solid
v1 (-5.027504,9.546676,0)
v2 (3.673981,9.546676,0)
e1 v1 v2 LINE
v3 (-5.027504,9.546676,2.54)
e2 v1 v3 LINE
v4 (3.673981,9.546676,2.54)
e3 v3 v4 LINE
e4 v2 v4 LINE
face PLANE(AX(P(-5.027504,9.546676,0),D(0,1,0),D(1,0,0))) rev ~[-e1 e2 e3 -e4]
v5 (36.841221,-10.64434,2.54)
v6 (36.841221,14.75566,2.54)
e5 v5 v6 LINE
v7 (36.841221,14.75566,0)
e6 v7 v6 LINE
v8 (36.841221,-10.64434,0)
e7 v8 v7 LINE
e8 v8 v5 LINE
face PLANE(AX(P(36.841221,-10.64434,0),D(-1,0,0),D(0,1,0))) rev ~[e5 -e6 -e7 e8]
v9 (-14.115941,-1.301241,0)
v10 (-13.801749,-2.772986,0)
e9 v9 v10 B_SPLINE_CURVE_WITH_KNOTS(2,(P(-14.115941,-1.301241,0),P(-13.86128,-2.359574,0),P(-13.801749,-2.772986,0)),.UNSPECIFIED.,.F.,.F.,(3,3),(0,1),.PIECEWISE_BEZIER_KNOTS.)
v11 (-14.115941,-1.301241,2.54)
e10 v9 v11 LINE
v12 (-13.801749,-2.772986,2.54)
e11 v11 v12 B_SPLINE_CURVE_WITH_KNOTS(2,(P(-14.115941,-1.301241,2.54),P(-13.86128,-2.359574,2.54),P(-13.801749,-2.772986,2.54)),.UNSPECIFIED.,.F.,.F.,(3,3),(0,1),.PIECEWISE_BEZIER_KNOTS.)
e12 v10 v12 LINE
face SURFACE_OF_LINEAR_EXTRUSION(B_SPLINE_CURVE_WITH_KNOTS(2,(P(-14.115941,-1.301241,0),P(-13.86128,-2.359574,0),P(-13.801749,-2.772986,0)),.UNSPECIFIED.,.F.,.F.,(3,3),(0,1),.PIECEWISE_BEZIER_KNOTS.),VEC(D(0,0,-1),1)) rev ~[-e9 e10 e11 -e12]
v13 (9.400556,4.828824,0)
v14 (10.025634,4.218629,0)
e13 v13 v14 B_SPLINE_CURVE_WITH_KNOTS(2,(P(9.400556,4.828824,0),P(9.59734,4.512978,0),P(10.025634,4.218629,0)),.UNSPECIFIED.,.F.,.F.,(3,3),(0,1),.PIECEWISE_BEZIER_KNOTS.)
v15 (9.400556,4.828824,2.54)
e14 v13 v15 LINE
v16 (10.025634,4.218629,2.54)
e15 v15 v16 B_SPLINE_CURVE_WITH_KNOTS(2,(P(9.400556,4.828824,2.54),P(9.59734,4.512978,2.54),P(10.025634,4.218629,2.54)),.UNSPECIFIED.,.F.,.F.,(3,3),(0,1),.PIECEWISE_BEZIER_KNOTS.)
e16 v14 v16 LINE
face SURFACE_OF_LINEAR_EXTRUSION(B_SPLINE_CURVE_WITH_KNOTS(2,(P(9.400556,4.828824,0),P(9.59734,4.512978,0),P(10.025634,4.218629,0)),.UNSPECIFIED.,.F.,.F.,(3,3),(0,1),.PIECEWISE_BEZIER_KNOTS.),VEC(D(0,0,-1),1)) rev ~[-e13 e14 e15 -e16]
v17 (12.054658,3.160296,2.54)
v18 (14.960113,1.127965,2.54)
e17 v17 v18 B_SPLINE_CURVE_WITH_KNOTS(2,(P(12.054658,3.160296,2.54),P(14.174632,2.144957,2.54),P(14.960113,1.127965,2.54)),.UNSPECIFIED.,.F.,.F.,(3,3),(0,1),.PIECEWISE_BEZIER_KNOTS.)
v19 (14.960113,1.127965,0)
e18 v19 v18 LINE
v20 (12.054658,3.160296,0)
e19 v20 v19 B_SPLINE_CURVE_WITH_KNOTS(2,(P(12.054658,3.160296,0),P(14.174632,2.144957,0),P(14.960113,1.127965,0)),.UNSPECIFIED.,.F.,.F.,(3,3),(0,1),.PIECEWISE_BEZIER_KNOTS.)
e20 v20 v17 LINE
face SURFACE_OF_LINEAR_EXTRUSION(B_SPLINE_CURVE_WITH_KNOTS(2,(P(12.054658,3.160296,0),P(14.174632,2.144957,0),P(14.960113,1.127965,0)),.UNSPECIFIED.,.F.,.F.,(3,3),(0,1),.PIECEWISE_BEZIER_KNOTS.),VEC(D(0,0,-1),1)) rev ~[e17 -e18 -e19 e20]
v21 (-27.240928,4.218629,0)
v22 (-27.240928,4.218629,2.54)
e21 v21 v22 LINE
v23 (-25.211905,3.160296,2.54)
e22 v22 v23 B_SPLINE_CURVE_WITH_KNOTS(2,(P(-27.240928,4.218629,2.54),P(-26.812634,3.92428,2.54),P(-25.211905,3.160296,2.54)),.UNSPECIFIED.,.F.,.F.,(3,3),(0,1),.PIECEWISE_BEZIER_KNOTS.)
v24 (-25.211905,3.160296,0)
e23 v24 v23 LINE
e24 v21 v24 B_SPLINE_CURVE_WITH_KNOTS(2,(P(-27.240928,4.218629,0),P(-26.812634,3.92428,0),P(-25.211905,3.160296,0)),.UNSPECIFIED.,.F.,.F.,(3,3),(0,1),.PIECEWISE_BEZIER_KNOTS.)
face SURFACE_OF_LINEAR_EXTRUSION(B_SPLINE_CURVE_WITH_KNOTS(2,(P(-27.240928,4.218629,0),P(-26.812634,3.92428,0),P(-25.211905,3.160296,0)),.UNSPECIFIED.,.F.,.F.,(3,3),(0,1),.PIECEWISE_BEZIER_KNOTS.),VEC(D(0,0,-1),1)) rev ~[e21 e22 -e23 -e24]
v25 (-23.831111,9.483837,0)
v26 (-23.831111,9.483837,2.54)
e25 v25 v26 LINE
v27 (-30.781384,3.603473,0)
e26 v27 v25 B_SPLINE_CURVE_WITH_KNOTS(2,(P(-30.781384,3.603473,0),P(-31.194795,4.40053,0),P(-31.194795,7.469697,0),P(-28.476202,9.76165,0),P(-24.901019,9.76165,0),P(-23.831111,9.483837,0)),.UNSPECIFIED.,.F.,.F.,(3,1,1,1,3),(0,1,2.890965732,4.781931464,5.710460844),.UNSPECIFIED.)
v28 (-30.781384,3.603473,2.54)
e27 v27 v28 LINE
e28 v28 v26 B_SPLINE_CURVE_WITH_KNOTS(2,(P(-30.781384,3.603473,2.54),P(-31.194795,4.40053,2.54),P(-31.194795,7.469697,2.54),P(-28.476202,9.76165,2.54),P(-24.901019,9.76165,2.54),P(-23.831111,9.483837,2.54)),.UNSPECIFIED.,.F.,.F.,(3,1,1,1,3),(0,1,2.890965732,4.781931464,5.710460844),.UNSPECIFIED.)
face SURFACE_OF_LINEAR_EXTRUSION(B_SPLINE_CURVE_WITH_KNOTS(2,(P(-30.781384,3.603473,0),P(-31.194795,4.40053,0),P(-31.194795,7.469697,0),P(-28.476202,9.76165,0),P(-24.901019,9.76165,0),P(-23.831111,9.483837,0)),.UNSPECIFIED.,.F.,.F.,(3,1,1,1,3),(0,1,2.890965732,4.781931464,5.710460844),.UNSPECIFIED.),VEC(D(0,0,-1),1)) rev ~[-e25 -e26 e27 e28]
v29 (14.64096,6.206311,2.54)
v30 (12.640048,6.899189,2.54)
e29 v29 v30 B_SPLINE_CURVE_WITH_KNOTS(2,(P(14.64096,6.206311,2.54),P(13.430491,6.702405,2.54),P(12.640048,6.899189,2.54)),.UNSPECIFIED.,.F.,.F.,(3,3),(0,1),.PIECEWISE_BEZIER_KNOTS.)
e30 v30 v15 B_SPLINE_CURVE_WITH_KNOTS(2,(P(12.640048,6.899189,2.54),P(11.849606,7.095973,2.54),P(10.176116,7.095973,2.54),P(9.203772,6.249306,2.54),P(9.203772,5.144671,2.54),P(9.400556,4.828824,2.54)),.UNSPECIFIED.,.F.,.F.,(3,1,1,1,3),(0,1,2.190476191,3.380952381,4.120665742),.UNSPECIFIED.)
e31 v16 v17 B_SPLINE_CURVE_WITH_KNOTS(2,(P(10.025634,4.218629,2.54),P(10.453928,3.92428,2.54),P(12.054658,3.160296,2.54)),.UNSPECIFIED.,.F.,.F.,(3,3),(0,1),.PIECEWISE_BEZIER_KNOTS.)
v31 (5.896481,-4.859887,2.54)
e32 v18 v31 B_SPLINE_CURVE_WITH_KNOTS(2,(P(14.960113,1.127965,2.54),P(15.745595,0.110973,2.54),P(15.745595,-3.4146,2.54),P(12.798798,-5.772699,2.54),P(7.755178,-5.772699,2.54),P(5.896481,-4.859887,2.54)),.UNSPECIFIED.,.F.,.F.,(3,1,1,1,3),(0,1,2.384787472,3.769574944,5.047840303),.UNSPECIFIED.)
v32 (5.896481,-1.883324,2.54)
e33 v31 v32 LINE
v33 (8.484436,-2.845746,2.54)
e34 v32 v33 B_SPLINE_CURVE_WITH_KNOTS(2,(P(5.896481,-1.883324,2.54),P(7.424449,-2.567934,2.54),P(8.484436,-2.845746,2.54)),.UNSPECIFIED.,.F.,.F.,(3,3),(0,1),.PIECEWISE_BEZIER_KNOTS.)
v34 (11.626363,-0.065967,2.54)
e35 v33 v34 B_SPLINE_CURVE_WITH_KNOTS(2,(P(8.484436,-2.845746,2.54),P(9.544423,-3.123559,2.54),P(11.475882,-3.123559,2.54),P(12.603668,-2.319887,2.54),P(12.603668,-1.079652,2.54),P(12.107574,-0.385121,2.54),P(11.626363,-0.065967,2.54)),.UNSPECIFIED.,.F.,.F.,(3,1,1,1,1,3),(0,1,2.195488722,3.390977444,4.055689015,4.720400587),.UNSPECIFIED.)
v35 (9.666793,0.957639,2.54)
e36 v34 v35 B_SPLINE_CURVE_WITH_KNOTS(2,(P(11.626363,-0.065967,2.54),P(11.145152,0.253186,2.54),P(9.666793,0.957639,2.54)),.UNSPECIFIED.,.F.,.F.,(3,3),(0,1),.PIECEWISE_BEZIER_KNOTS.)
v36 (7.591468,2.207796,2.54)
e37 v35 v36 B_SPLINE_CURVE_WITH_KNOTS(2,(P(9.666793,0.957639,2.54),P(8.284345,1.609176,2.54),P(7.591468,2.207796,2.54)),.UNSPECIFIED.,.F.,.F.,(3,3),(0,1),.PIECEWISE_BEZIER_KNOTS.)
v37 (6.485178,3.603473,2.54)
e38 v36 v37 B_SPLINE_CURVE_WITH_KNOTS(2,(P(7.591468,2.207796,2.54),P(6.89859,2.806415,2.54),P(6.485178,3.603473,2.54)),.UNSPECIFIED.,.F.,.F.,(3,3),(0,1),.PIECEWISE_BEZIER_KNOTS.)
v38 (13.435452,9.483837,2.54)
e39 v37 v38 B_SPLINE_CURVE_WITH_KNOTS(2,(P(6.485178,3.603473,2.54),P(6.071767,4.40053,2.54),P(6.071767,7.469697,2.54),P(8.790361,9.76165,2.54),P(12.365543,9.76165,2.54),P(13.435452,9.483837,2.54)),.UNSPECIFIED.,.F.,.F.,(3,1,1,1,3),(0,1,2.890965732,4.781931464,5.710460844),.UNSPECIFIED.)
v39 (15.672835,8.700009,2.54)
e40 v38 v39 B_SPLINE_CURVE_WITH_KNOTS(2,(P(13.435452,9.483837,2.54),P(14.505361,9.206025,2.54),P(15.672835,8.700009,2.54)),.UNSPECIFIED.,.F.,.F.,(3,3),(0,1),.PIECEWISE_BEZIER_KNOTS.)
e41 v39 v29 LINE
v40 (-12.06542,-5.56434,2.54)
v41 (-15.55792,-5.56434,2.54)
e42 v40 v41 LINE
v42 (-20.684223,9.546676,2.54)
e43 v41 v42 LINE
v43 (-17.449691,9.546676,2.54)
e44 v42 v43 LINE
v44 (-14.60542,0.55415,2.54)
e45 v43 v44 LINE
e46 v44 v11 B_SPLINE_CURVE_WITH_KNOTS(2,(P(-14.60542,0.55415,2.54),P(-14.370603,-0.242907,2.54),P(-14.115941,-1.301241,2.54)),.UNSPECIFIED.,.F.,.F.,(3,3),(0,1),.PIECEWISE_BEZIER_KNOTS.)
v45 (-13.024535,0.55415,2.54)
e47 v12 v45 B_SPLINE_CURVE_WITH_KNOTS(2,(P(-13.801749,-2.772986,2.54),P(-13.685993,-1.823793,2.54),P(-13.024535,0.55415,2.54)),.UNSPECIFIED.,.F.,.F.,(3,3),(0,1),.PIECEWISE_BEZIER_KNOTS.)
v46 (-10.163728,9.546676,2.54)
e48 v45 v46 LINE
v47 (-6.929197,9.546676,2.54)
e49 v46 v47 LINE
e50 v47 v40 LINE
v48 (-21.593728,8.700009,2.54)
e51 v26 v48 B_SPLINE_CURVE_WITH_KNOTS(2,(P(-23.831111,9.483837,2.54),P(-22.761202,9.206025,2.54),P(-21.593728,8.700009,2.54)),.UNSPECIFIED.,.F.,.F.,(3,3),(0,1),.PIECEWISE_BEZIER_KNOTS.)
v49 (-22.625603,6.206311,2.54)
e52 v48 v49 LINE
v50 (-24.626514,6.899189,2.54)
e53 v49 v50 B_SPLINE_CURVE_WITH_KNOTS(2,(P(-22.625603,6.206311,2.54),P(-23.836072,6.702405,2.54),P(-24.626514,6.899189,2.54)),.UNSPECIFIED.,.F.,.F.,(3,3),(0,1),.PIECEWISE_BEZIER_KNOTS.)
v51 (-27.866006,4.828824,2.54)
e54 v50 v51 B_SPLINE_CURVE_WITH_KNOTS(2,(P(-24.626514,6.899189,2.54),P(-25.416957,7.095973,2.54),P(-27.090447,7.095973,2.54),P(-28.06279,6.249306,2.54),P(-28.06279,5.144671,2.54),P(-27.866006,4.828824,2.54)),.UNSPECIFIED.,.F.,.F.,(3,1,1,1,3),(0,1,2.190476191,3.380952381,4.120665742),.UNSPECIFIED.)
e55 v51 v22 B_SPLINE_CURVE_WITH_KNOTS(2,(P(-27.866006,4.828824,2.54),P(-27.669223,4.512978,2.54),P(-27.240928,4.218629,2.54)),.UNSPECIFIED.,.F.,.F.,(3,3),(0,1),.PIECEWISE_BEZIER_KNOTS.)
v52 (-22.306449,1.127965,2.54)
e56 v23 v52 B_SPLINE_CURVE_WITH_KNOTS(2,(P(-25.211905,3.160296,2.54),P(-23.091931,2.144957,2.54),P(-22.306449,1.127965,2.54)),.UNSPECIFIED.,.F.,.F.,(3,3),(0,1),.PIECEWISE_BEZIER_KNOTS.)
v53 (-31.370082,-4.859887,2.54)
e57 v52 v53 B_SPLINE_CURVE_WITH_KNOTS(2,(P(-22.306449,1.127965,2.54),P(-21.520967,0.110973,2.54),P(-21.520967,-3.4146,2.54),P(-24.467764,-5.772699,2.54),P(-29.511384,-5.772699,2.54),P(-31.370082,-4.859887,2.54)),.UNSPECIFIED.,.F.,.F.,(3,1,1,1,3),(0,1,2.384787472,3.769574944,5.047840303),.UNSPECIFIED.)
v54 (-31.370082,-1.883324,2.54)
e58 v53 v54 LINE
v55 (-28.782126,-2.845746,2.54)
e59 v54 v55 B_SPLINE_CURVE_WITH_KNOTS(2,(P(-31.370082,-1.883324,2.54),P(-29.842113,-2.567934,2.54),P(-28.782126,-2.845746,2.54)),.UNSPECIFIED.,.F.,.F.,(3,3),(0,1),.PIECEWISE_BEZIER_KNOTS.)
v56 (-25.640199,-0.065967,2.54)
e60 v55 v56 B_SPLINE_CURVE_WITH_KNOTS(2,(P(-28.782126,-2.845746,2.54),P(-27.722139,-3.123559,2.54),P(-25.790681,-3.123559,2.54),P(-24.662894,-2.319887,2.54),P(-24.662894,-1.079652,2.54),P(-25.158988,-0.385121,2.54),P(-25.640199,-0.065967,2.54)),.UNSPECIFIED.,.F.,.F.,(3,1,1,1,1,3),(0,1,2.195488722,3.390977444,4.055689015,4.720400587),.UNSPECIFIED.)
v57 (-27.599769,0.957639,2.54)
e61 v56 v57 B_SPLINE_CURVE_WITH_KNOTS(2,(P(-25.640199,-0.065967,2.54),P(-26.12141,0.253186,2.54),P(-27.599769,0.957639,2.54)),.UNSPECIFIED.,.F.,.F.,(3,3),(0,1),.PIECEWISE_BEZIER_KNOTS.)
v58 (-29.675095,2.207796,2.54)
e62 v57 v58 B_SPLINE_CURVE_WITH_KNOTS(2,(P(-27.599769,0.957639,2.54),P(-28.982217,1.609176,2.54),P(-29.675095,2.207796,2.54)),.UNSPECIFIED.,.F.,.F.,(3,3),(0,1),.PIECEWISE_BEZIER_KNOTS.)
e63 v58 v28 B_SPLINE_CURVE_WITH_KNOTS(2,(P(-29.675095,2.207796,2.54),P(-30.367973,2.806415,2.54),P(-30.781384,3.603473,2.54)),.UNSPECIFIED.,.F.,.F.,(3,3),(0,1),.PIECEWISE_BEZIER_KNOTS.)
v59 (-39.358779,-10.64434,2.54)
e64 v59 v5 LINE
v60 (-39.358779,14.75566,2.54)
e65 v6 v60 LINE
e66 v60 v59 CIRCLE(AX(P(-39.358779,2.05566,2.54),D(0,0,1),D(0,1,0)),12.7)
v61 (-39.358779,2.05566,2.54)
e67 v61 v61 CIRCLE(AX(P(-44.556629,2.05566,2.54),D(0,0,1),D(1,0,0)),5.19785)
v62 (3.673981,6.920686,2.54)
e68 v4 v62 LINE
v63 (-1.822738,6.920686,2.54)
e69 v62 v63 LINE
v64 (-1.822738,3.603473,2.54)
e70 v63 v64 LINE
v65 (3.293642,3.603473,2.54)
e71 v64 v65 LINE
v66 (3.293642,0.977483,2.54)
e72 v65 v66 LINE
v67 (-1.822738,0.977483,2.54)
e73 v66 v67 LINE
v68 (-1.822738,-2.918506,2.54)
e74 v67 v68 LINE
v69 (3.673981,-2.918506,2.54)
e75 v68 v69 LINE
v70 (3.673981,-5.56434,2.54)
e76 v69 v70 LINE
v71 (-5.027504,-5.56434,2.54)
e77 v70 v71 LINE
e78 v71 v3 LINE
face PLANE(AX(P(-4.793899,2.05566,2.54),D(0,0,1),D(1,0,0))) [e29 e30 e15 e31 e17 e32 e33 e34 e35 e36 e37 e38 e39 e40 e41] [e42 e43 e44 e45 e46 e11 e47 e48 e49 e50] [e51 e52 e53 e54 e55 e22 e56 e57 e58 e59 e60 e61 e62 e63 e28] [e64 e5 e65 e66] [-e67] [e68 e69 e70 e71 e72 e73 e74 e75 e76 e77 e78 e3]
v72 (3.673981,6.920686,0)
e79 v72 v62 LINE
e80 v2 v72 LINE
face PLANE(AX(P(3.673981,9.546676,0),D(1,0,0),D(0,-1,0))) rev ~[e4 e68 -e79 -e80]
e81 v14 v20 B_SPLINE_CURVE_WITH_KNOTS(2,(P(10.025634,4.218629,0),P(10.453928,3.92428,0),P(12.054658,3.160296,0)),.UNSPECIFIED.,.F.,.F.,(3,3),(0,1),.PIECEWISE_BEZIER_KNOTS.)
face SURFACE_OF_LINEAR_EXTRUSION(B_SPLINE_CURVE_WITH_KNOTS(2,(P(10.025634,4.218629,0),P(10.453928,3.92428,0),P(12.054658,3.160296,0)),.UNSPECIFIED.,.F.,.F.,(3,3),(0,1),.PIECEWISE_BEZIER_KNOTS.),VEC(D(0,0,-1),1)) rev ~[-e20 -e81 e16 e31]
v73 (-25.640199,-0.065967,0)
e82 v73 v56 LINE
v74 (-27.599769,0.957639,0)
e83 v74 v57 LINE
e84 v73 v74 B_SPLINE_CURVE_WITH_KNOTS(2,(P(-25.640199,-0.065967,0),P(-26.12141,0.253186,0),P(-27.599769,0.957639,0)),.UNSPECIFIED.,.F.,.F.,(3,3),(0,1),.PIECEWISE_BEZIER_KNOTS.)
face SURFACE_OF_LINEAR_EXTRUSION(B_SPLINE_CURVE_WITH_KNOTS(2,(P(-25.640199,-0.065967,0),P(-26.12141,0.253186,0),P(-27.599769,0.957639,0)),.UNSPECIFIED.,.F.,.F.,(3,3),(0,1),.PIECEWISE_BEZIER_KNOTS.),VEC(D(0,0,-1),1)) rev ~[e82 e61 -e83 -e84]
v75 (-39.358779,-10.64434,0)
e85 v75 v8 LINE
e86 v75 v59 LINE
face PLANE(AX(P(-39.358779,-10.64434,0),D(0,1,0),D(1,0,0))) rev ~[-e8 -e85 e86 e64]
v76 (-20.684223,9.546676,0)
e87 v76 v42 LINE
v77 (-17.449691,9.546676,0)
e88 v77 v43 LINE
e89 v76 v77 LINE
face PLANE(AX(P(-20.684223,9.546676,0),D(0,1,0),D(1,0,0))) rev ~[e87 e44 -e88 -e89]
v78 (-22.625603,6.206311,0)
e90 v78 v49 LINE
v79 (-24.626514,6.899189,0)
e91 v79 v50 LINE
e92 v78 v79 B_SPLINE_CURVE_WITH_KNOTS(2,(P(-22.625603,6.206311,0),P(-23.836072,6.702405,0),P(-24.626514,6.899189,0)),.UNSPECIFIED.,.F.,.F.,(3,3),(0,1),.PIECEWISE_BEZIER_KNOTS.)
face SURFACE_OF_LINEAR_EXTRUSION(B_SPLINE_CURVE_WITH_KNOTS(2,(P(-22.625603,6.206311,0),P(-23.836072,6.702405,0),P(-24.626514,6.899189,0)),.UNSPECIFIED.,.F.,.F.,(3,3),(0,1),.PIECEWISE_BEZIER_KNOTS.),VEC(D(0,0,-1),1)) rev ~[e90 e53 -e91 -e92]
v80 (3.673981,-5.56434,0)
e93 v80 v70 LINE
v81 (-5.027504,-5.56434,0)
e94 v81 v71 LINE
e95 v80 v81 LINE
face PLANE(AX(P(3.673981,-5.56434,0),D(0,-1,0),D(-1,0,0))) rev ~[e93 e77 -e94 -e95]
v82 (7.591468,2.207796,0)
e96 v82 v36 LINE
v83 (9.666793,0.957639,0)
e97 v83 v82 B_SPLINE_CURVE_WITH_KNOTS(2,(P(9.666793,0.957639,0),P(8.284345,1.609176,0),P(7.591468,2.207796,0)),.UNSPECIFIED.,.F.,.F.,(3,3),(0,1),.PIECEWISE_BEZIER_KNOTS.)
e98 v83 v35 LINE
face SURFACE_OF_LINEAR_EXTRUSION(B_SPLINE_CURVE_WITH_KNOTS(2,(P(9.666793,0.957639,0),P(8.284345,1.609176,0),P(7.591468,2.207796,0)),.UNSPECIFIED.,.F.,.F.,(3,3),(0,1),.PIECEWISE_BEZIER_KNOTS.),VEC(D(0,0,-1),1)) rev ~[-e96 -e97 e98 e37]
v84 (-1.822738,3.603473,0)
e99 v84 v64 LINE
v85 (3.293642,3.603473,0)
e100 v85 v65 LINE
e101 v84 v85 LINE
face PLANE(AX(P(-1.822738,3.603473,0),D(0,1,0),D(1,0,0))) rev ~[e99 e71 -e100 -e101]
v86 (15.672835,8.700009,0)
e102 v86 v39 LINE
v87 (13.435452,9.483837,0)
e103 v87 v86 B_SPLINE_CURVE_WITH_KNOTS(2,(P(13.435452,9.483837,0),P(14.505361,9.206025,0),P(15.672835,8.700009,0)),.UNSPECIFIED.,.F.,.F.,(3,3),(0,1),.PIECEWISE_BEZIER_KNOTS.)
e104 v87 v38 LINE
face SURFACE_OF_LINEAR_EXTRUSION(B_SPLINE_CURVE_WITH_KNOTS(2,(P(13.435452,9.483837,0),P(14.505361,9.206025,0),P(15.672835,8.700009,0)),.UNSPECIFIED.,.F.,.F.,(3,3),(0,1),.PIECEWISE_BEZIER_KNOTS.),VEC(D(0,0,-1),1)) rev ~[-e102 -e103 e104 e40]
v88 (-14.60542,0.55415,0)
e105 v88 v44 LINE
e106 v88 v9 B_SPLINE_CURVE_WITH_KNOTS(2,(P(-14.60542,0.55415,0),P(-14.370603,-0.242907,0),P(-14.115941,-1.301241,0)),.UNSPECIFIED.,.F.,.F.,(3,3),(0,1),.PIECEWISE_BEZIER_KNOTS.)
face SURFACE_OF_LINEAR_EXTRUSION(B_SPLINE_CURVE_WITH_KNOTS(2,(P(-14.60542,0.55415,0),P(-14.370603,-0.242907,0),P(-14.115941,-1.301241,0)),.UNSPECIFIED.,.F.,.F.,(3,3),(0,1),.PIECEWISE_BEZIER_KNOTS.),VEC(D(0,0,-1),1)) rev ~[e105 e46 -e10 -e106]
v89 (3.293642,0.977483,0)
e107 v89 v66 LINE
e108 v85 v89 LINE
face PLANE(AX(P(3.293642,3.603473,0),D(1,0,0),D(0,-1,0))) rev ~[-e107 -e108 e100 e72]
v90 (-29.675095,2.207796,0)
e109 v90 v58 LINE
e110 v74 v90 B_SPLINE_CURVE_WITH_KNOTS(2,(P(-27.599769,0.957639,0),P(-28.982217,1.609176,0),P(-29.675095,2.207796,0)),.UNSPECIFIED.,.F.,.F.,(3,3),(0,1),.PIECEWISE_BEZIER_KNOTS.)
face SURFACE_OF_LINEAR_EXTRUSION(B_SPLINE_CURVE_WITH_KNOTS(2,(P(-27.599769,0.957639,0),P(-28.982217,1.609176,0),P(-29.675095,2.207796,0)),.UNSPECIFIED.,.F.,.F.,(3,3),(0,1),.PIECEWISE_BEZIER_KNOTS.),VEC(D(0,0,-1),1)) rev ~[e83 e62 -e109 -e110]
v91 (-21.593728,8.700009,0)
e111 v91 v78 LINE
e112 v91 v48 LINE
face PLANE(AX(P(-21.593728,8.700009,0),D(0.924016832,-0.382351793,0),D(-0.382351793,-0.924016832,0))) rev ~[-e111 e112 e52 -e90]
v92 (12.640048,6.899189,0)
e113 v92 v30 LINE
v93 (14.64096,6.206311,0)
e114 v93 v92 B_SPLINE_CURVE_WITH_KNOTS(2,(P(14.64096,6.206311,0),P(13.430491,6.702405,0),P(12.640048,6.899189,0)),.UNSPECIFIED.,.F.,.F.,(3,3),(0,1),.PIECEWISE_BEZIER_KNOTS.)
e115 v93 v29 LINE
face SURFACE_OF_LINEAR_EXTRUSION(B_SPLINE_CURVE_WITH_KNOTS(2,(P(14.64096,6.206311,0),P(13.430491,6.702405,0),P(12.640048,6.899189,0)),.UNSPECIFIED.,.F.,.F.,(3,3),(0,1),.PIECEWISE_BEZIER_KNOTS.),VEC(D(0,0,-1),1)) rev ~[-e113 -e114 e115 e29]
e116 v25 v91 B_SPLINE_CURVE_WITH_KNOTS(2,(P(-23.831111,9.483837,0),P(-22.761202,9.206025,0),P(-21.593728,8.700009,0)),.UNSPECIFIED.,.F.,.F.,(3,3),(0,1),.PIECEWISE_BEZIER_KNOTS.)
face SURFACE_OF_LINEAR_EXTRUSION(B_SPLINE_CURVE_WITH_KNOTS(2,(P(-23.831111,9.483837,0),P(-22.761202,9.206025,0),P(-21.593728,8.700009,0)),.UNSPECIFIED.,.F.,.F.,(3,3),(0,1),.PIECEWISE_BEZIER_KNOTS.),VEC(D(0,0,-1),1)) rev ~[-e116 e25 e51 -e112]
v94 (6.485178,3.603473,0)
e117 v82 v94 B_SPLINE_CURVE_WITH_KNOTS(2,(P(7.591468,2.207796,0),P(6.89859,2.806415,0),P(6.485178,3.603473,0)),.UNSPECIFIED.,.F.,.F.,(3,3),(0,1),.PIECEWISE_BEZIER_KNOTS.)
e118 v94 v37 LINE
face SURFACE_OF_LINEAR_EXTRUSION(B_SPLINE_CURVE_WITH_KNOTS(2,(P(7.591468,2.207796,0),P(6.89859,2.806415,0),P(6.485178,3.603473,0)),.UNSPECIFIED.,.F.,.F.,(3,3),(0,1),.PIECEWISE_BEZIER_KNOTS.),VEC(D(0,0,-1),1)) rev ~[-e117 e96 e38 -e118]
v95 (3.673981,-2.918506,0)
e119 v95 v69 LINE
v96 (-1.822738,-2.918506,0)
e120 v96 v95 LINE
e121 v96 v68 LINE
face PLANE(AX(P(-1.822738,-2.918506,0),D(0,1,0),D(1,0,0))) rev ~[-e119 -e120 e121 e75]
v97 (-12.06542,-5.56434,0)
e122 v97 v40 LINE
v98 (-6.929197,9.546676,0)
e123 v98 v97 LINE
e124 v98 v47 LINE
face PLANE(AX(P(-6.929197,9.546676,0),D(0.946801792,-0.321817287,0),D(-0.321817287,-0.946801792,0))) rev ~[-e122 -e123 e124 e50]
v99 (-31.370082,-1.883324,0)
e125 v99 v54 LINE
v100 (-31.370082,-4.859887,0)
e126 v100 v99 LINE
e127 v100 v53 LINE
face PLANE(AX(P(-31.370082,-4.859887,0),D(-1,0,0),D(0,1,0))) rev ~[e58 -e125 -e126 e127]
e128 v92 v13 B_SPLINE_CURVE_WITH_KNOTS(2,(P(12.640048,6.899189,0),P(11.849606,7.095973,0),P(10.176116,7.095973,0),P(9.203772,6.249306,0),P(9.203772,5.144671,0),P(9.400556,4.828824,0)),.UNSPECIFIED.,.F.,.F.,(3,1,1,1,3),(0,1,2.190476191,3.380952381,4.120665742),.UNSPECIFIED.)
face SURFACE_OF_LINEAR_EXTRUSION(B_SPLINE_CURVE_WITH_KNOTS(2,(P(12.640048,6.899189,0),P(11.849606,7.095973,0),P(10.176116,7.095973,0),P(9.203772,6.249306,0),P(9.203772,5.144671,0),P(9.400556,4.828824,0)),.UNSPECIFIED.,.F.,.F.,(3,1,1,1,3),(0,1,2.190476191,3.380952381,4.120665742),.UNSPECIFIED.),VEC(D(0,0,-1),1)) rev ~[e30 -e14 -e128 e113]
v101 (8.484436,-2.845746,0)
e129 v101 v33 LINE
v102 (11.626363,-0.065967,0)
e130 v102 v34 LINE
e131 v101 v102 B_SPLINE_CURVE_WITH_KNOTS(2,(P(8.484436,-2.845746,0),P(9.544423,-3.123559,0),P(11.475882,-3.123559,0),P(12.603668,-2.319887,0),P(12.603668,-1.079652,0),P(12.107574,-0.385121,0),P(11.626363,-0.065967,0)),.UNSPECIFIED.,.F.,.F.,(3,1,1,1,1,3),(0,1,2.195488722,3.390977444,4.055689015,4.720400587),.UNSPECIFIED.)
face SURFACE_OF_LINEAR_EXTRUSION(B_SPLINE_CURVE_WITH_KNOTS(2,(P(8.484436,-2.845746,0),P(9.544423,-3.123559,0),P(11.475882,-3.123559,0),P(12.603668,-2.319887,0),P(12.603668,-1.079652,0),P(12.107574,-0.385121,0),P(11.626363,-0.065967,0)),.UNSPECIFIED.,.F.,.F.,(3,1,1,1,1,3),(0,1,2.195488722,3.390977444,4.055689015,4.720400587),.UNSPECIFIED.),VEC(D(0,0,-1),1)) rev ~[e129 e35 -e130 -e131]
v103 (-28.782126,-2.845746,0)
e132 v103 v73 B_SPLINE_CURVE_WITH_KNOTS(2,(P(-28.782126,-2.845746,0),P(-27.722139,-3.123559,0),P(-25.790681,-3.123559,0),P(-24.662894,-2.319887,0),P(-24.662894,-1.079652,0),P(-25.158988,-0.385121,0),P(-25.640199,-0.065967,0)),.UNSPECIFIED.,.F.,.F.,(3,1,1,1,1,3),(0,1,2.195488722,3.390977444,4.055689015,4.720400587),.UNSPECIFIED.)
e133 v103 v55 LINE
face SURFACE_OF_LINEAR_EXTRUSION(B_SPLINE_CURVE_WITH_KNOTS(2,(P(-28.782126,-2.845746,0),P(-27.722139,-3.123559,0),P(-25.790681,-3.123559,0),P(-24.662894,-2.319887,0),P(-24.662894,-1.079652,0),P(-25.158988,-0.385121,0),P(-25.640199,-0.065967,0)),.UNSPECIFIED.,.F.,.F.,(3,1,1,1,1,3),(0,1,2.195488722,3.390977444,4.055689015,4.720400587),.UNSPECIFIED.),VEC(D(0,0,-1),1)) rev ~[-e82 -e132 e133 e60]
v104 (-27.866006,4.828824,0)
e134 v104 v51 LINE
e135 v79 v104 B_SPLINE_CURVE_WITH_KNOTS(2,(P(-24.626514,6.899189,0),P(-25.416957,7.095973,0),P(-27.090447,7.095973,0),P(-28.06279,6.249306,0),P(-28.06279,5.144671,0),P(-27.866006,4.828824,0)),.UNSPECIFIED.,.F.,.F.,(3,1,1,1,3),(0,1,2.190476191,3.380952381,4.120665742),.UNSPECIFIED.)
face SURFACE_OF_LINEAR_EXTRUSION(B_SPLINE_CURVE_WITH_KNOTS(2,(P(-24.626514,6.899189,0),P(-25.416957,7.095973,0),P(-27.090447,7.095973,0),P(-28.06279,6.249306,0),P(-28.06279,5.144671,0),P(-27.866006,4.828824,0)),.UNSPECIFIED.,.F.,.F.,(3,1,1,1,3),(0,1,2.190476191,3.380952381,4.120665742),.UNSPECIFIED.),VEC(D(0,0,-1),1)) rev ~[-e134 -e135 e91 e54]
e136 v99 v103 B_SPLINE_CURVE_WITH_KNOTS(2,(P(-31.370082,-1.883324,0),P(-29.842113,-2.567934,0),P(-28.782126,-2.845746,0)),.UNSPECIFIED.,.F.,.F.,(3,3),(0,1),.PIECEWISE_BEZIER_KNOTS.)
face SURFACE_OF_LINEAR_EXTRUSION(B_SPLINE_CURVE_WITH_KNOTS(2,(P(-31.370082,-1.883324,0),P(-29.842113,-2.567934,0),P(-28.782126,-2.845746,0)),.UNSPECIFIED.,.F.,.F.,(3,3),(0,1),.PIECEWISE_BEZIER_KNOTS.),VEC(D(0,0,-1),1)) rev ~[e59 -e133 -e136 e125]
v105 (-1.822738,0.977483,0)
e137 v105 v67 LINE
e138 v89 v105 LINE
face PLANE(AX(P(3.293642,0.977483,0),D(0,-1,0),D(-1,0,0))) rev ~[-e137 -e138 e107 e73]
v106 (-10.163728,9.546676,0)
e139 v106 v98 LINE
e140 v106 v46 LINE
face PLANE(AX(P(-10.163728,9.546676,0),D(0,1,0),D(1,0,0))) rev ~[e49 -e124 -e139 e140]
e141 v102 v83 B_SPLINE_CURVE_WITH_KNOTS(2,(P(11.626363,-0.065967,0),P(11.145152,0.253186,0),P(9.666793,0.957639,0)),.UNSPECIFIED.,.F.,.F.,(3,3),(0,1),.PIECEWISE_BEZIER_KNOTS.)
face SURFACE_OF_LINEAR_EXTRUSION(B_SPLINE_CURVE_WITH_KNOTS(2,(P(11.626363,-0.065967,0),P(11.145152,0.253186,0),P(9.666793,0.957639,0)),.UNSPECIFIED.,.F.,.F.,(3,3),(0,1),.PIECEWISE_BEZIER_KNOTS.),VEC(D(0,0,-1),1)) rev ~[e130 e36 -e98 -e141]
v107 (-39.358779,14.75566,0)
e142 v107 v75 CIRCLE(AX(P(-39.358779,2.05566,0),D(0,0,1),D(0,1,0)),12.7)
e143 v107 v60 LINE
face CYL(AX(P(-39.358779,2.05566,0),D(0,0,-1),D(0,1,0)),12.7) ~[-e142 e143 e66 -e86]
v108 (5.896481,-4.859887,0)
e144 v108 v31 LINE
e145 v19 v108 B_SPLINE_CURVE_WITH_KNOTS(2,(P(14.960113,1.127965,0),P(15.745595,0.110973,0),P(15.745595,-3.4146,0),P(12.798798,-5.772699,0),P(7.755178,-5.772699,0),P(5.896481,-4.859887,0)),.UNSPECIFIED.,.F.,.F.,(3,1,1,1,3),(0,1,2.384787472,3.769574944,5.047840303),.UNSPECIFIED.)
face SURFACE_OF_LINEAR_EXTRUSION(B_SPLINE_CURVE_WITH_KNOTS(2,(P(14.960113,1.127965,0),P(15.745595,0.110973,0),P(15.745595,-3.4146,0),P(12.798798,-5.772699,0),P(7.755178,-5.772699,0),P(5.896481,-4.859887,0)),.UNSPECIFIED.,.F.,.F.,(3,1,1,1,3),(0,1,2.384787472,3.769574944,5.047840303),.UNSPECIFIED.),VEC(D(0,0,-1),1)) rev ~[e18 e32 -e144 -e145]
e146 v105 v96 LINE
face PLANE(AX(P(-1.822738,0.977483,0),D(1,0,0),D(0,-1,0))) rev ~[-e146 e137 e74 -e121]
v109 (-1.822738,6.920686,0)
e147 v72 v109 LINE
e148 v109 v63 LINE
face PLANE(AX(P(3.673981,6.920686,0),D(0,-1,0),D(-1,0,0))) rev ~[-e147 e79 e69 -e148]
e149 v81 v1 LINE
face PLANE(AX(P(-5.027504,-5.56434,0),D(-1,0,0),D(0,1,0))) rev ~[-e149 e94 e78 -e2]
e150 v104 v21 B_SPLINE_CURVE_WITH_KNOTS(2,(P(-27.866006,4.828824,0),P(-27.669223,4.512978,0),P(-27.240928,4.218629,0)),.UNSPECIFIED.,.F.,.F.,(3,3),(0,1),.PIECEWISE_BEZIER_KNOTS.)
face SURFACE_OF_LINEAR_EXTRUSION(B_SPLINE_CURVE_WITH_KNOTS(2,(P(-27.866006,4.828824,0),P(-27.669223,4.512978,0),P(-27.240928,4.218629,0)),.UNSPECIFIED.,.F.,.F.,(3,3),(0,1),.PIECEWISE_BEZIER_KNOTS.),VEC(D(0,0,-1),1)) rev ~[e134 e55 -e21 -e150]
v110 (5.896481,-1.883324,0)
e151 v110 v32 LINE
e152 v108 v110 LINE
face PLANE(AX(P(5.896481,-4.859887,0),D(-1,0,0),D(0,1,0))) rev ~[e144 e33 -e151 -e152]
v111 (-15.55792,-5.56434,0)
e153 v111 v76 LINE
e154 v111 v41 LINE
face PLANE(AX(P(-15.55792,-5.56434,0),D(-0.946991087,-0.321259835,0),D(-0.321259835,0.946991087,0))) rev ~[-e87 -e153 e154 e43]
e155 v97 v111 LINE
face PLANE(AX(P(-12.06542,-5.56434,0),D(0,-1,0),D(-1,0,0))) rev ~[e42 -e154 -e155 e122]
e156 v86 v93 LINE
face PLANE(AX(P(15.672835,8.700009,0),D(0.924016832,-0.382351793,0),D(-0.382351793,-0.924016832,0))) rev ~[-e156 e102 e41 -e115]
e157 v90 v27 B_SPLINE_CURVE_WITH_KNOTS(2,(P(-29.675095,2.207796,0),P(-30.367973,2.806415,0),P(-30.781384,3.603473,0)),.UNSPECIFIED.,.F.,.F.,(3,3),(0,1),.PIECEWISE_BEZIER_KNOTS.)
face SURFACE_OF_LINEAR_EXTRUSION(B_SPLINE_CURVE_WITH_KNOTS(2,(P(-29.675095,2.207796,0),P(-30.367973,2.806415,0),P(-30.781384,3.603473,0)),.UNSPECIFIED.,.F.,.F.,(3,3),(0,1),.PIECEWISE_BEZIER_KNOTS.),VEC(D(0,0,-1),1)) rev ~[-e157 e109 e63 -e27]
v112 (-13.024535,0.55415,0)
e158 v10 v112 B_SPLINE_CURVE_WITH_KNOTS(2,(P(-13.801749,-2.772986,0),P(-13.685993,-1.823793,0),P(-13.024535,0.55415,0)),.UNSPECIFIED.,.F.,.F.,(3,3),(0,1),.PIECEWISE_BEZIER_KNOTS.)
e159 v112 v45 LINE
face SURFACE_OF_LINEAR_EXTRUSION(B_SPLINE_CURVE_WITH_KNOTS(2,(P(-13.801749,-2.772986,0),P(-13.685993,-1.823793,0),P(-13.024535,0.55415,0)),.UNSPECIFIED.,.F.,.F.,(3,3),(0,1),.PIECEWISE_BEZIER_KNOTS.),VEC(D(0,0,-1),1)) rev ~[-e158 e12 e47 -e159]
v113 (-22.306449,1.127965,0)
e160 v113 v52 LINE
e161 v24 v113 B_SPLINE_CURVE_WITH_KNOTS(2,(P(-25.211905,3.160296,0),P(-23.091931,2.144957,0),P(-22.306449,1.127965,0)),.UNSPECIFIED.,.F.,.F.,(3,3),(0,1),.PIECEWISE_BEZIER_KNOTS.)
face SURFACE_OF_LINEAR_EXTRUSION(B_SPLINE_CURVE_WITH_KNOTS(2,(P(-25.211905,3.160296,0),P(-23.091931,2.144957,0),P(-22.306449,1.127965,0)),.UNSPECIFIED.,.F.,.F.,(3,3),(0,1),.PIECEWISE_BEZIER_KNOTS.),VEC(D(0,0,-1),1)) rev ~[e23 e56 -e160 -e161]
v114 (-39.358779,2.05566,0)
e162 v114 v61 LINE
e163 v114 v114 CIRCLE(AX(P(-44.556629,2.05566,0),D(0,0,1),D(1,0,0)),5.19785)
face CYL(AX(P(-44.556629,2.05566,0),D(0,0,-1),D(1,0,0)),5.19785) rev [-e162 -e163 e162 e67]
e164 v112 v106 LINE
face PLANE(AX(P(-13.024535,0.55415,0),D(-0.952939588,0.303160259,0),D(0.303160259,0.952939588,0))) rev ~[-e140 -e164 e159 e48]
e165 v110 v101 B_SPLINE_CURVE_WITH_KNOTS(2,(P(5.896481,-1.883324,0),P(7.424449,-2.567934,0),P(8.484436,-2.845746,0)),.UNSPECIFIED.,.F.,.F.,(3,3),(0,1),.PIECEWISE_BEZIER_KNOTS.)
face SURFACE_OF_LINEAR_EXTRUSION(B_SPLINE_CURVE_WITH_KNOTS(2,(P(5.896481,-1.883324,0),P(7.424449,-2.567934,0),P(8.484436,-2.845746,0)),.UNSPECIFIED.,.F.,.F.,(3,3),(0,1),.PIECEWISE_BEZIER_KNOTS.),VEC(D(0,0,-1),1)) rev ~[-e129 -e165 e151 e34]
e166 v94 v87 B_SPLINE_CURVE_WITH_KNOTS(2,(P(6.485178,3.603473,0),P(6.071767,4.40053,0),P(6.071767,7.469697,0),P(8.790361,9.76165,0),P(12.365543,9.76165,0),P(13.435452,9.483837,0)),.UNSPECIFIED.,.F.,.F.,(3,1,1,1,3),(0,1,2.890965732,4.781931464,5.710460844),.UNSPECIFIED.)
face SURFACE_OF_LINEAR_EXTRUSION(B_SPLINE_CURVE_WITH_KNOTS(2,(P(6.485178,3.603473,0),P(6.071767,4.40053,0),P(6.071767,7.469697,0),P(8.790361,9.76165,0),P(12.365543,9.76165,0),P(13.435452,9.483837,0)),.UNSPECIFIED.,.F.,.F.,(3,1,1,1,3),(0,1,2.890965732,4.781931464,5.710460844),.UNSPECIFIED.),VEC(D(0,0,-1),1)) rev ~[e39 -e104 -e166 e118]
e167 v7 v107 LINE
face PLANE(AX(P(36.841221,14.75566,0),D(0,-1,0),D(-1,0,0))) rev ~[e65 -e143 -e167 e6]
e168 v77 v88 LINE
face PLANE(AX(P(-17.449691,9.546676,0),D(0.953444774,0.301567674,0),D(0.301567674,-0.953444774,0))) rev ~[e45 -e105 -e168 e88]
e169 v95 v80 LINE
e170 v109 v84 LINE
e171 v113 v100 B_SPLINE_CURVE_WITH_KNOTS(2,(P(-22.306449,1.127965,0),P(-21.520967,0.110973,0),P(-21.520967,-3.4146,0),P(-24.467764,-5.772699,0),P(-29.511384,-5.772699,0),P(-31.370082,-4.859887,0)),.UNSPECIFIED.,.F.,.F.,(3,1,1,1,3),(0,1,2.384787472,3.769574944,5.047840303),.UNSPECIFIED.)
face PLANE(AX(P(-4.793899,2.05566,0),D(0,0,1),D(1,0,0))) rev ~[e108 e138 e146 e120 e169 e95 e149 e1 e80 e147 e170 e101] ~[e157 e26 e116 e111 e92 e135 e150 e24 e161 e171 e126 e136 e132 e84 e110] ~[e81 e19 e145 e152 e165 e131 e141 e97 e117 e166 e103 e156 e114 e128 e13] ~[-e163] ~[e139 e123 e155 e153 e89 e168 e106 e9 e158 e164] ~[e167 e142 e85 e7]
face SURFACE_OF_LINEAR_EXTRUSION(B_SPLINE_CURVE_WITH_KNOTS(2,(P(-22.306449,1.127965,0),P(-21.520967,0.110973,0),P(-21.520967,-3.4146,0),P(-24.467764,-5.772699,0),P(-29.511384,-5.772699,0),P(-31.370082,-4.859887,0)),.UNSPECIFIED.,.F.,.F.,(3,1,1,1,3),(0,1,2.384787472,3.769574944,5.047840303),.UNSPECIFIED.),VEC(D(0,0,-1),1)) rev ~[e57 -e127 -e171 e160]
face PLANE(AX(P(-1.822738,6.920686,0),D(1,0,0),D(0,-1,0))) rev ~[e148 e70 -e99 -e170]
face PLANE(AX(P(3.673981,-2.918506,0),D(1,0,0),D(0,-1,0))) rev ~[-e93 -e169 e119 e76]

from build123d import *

# Parameters (mm, degrees)
F0_R     = 5.1978501012
F1_DEPTH = 2.54


with BuildPart() as f1:
    # F0 (on Top) → F1 (new body)
    with BuildSketch(Plane.XY):
        with BuildLine():
            Line((36.8412211885, 14.7556602153), (-39.3587788115, 14.7556602153))
            ThreePointArc((-39.3587788115, 14.7556602153), (-52.0587788115, 2.0556602153), (-39.3587788115, -10.6443397847))
            Line((-39.3587788115, -10.6443397847), (36.8412211885, -10.6443397847))
            Line((36.8412211885, -10.6443397847), (36.8412211885, 14.7556602153))
        make_face()
        with Locations((-44.5566289127, 2.0556602153)):
            Circle(F0_R, mode=Mode.SUBTRACT)
        with BuildLine():
            add(Edge.make_bspline(
                [(-22.306449124, 1.1279649028), (-21.5209673532, 0.1109727153), (-21.5209673532, -1.3673866597)],
                knots=[0, 0, 0, 1, 1, 1], degree=2))
            add(Edge.make_bspline(
                [(-21.5209673532, -1.3673866597), (-21.5209673532, -3.4146002013), (-22.9943657907, -4.5936496805)],
                knots=[0, 0, 0, 1, 1, 1], degree=2))
            add(Edge.make_bspline(
                [(-22.9943657907, -4.5936496805), (-24.4677642282, -5.7726991597), (-27.0904465199, -5.7726991597)],
                knots=[0, 0, 0, 1, 1, 1], degree=2))
            add(Edge.make_bspline(
                [(-27.0904465199, -5.7726991597), (-29.5113840199, -5.7726991597), (-31.3700819365, -4.8598866597)],
                knots=[0, 0, 0, 1, 1, 1], degree=2))
            Line((-31.3700819365, -4.8598866597), (-31.3700819365, -1.8833241597))
            add(Edge.make_bspline(
                [(-31.3700819365, -1.8833241597), (-29.8421131865, -2.5679335347), (-28.7821262074, -2.8457460347)],
                knots=[0, 0, 0, 1, 1, 1], degree=2))
            add(Edge.make_bspline(
                [(-28.7821262074, -2.8457460347), (-27.7221392282, -3.1235585347), (-26.8423996449, -3.1235585347)],
                knots=[0, 0, 0, 1, 1, 1], degree=2))
            add(Edge.make_bspline(
                [(-26.8423996449, -3.1235585347), (-25.7906808949, -3.1235585347), (-25.2267876657, -2.7217225972)],
                knots=[0, 0, 0, 1, 1, 1], degree=2))
            add(Edge.make_bspline(
                [(-25.2267876657, -2.7217225972), (-24.6628944365, -2.3198866597), (-24.6628944365, -1.522829368)],
                knots=[0, 0, 0, 1, 1, 1], degree=2))
            add(Edge.make_bspline(
                [(-24.6628944365, -1.522829368), (-24.6628944365, -1.0796522847), (-24.9109413115, -0.7323866597)],
                knots=[0, 0, 0, 1, 1, 1], degree=2))
            add(Edge.make_bspline(
                [(-24.9109413115, -0.7323866597), (-25.1589881865, -0.3851210347), (-25.640199124, -0.0659673888)],
                knots=[0, 0, 0, 1, 1, 1], degree=2))
            add(Edge.make_bspline(
                [(-25.640199124, -0.0659673888), (-26.1214100615, 0.253186257), (-27.5997694365, 0.957639382)],
                knots=[0, 0, 0, 1, 1, 1], degree=2))
            add(Edge.make_bspline(
                [(-27.5997694365, 0.957639382), (-28.9822173532, 1.6091758403), (-29.6750949574, 2.207795632)],
                knots=[0, 0, 0, 1, 1, 1], degree=2))
            add(Edge.make_bspline(
                [(-29.6750949574, 2.207795632), (-30.3679725615, 2.8064154237), (-30.7813840199, 3.6034727153)],
                knots=[0, 0, 0, 1, 1, 1], degree=2))
            add(Edge.make_bspline(
                [(-30.7813840199, 3.6034727153), (-31.1947954782, 4.400530007), (-31.1947954782, 5.462170632)],
                knots=[0, 0, 0, 1, 1, 1], degree=2))
            add(Edge.make_bspline(
                [(-31.1947954782, 5.462170632), (-31.1947954782, 7.4696966737), (-29.8354986032, 8.6156732362)],
                knots=[0, 0, 0, 1, 1, 1], degree=2))
            add(Edge.make_bspline(
                [(-29.8354986032, 8.6156732362), (-28.4762017282, 9.7616497987), (-26.0784152699, 9.7616497987)],
                knots=[0, 0, 0, 1, 1, 1], degree=2))
            add(Edge.make_bspline(
                [(-26.0784152699, 9.7616497987), (-24.9010194365, 9.7616497987), (-23.8311105824, 9.4838372987)],
                knots=[0, 0, 0, 1, 1, 1], degree=2))
            add(Edge.make_bspline(
                [(-23.8311105824, 9.4838372987), (-22.7612017282, 9.2060247987), (-21.5937277699, 8.7000091737)],
                knots=[0, 0, 0, 1, 1, 1], degree=2))
            Line((-21.5937277699, 8.7000091737), (-22.6256027699, 6.206311257))
            add(Edge.make_bspline(
                [(-22.6256027699, 6.206311257), (-23.8360715199, 6.702405007), (-24.6265142282, 6.8991888612)],
                knots=[0, 0, 0, 1, 1, 1], degree=2))
            add(Edge.make_bspline(
                [(-24.6265142282, 6.8991888612), (-25.4169569365, 7.0959727153), (-26.1809413115, 7.0959727153)],
                knots=[0, 0, 0, 1, 1, 1], degree=2))
            add(Edge.make_bspline(
                [(-26.1809413115, 7.0959727153), (-27.0904465199, 7.0959727153), (-27.5766183949, 6.672639382)],
                knots=[0, 0, 0, 1, 1, 1], degree=2))
            add(Edge.make_bspline(
                [(-27.5766183949, 6.672639382), (-28.0627902699, 6.2493060487), (-28.0627902699, 5.5680039653)],
                knots=[0, 0, 0, 1, 1, 1], degree=2))
            add(Edge.make_bspline(
                [(-28.0627902699, 5.5680039653), (-28.0627902699, 5.144670632), (-27.8660064157, 4.8288242778)],
                knots=[0, 0, 0, 1, 1, 1], degree=2))
            add(Edge.make_bspline(
                [(-27.8660064157, 4.8288242778), (-27.6692225615, 4.5129779237), (-27.2409282907, 4.2186289653)],
                knots=[0, 0, 0, 1, 1, 1], degree=2))
            add(Edge.make_bspline(
                [(-27.2409282907, 4.2186289653), (-26.8126340199, 3.924280007), (-25.2119048532, 3.160295632)],
                knots=[0, 0, 0, 1, 1, 1], degree=2))
            add(Edge.make_bspline(
                [(-25.2119048532, 3.160295632), (-23.0919308949, 2.1449570903), (-22.306449124, 1.1279649028)],
                knots=[0, 0, 0, 1, 1, 1], degree=2))
        make_face(mode=Mode.SUBTRACT)
        with BuildLine():
            Line((-13.0245350615, 0.5541497987), (-10.1637277699, 9.5466758403))
            Line((-10.1637277699, 9.5466758403), (-6.9291965199, 9.5466758403))
            Line((-6.9291965199, 9.5466758403), (-12.0654204782, -5.5643397847))
            Line((-12.0654204782, -5.5643397847), (-15.5579204782, -5.5643397847))
            Line((-15.5579204782, -5.5643397847), (-20.6842225615, 9.5466758403))
            Line((-20.6842225615, 9.5466758403), (-17.4496913115, 9.5466758403))
            Line((-17.4496913115, 9.5466758403), (-14.6054204782, 0.5541497987))
            add(Edge.make_bspline(
                [(-14.6054204782, 0.5541497987), (-14.3706027699, -0.242907493), (-14.1159413115, -1.3012408263)],
                knots=[0, 0, 0, 1, 1, 1], degree=2))
            add(Edge.make_bspline(
                [(-14.1159413115, -1.3012408263), (-13.8612798532, -2.3595741597), (-13.8017486032, -2.772985618)],
                knots=[0, 0, 0, 1, 1, 1], degree=2))
            add(Edge.make_bspline(
                [(-13.8017486032, -2.772985618), (-13.6859933949, -1.8237929097), (-13.0245350615, 0.5541497987)],
                knots=[0, 0, 0, 1, 1, 1], degree=2))
        make_face(mode=Mode.SUBTRACT)
        Polygon((3.6739805635, -2.9185064513), (3.6739805635, -5.5643397847), (-5.0275038115, -5.5643397847), (-5.0275038115, 9.5466758403), (3.6739805635, 9.5466758403), (3.6739805635, 6.920686257), (-1.8227381865, 6.920686257), (-1.8227381865, 3.6034727153), (3.2936420218, 3.6034727153), (3.2936420218, 0.977483132), (-1.8227381865, 0.977483132), (-1.8227381865, -2.9185064513), align=None, mode=Mode.SUBTRACT)
        with BuildLine():
            add(Edge.make_bspline(
                [(14.960113376, 1.1279649028), (15.7455951468, 0.1109727153), (15.7455951468, -1.3673866597)],
                knots=[0, 0, 0, 1, 1, 1], degree=2))
            add(Edge.make_bspline(
                [(15.7455951468, -1.3673866597), (15.7455951468, -3.4146002013), (14.2721967093, -4.5936496805)],
                knots=[0, 0, 0, 1, 1, 1], degree=2))
            add(Edge.make_bspline(
                [(14.2721967093, -4.5936496805), (12.7987982718, -5.7726991597), (10.1761159801, -5.7726991597)],
                knots=[0, 0, 0, 1, 1, 1], degree=2))
            add(Edge.make_bspline(
                [(10.1761159801, -5.7726991597), (7.7551784801, -5.7726991597), (5.8964805635, -4.8598866597)],
                knots=[0, 0, 0, 1, 1, 1], degree=2))
            Line((5.8964805635, -4.8598866597), (5.8964805635, -1.8833241597))
            add(Edge.make_bspline(
                [(5.8964805635, -1.8833241597), (7.4244493135, -2.5679335347), (8.4844362926, -2.8457460347)],
                knots=[0, 0, 0, 1, 1, 1], degree=2))
            add(Edge.make_bspline(
                [(8.4844362926, -2.8457460347), (9.5444232718, -3.1235585347), (10.4241628551, -3.1235585347)],
                knots=[0, 0, 0, 1, 1, 1], degree=2))
            add(Edge.make_bspline(
                [(10.4241628551, -3.1235585347), (11.4758816051, -3.1235585347), (12.0397748343, -2.7217225972)],
                knots=[0, 0, 0, 1, 1, 1], degree=2))
            add(Edge.make_bspline(
                [(12.0397748343, -2.7217225972), (12.6036680635, -2.3198866597), (12.6036680635, -1.522829368)],
                knots=[0, 0, 0, 1, 1, 1], degree=2))
            add(Edge.make_bspline(
                [(12.6036680635, -1.522829368), (12.6036680635, -1.0796522847), (12.3556211885, -0.7323866597)],
                knots=[0, 0, 0, 1, 1, 1], degree=2))
            add(Edge.make_bspline(
                [(12.3556211885, -0.7323866597), (12.1075743135, -0.3851210347), (11.626363376, -0.0659673888)],
                knots=[0, 0, 0, 1, 1, 1], degree=2))
            add(Edge.make_bspline(
                [(11.626363376, -0.0659673888), (11.1451524385, 0.253186257), (9.6667930635, 0.957639382)],
                knots=[0, 0, 0, 1, 1, 1], degree=2))
            add(Edge.make_bspline(
                [(9.6667930635, 0.957639382), (8.2843451468, 1.6091758403), (7.5914675426, 2.207795632)],
                knots=[0, 0, 0, 1, 1, 1], degree=2))
            add(Edge.make_bspline(
                [(7.5914675426, 2.207795632), (6.8985899385, 2.8064154237), (6.4851784801, 3.6034727153)],
                knots=[0, 0, 0, 1, 1, 1], degree=2))
            add(Edge.make_bspline(
                [(6.4851784801, 3.6034727153), (6.0717670218, 4.400530007), (6.0717670218, 5.462170632)],
                knots=[0, 0, 0, 1, 1, 1], degree=2))
            add(Edge.make_bspline(
                [(6.0717670218, 5.462170632), (6.0717670218, 7.4696966737), (7.4310638968, 8.6156732362)],
                knots=[0, 0, 0, 1, 1, 1], degree=2))
            add(Edge.make_bspline(
                [(7.4310638968, 8.6156732362), (8.7903607718, 9.7616497987), (11.1881472301, 9.7616497987)],
                knots=[0, 0, 0, 1, 1, 1], degree=2))
            add(Edge.make_bspline(
                [(11.1881472301, 9.7616497987), (12.3655430635, 9.7616497987), (13.4354519176, 9.4838372987)],
                knots=[0, 0, 0, 1, 1, 1], degree=2))
            add(Edge.make_bspline(
                [(13.4354519176, 9.4838372987), (14.5053607718, 9.2060247987), (15.6728347301, 8.7000091737)],
                knots=[0, 0, 0, 1, 1, 1], degree=2))
            Line((15.6728347301, 8.7000091737), (14.6409597301, 6.206311257))
            add(Edge.make_bspline(
                [(14.6409597301, 6.206311257), (13.4304909801, 6.702405007), (12.6400482718, 6.8991888612)],
                knots=[0, 0, 0, 1, 1, 1], degree=2))
            add(Edge.make_bspline(
                [(12.6400482718, 6.8991888612), (11.8496055635, 7.0959727153), (11.0856211885, 7.0959727153)],
                knots=[0, 0, 0, 1, 1, 1], degree=2))
            add(Edge.make_bspline(
                [(11.0856211885, 7.0959727153), (10.1761159801, 7.0959727153), (9.6899441051, 6.672639382)],
                knots=[0, 0, 0, 1, 1, 1], degree=2))
            add(Edge.make_bspline(
                [(9.6899441051, 6.672639382), (9.2037722301, 6.2493060487), (9.2037722301, 5.5680039653)],
                knots=[0, 0, 0, 1, 1, 1], degree=2))
            add(Edge.make_bspline(
                [(9.2037722301, 5.5680039653), (9.2037722301, 5.144670632), (9.4005560843, 4.8288242778)],
                knots=[0, 0, 0, 1, 1, 1], degree=2))
            add(Edge.make_bspline(
                [(9.4005560843, 4.8288242778), (9.5973399385, 4.5129779237), (10.0256342093, 4.2186289653)],
                knots=[0, 0, 0, 1, 1, 1], degree=2))
            add(Edge.make_bspline(
                [(10.0256342093, 4.2186289653), (10.4539284801, 3.924280007), (12.0546576468, 3.160295632)],
                knots=[0, 0, 0, 1, 1, 1], degree=2))
            add(Edge.make_bspline(
                [(12.0546576468, 3.160295632), (14.1746316051, 2.1449570903), (14.960113376, 1.1279649028)],
                knots=[0, 0, 0, 1, 1, 1], degree=2))
        make_face(mode=Mode.SUBTRACT)
    extrude(amount=F1_DEPTH)


solid = f1.part
